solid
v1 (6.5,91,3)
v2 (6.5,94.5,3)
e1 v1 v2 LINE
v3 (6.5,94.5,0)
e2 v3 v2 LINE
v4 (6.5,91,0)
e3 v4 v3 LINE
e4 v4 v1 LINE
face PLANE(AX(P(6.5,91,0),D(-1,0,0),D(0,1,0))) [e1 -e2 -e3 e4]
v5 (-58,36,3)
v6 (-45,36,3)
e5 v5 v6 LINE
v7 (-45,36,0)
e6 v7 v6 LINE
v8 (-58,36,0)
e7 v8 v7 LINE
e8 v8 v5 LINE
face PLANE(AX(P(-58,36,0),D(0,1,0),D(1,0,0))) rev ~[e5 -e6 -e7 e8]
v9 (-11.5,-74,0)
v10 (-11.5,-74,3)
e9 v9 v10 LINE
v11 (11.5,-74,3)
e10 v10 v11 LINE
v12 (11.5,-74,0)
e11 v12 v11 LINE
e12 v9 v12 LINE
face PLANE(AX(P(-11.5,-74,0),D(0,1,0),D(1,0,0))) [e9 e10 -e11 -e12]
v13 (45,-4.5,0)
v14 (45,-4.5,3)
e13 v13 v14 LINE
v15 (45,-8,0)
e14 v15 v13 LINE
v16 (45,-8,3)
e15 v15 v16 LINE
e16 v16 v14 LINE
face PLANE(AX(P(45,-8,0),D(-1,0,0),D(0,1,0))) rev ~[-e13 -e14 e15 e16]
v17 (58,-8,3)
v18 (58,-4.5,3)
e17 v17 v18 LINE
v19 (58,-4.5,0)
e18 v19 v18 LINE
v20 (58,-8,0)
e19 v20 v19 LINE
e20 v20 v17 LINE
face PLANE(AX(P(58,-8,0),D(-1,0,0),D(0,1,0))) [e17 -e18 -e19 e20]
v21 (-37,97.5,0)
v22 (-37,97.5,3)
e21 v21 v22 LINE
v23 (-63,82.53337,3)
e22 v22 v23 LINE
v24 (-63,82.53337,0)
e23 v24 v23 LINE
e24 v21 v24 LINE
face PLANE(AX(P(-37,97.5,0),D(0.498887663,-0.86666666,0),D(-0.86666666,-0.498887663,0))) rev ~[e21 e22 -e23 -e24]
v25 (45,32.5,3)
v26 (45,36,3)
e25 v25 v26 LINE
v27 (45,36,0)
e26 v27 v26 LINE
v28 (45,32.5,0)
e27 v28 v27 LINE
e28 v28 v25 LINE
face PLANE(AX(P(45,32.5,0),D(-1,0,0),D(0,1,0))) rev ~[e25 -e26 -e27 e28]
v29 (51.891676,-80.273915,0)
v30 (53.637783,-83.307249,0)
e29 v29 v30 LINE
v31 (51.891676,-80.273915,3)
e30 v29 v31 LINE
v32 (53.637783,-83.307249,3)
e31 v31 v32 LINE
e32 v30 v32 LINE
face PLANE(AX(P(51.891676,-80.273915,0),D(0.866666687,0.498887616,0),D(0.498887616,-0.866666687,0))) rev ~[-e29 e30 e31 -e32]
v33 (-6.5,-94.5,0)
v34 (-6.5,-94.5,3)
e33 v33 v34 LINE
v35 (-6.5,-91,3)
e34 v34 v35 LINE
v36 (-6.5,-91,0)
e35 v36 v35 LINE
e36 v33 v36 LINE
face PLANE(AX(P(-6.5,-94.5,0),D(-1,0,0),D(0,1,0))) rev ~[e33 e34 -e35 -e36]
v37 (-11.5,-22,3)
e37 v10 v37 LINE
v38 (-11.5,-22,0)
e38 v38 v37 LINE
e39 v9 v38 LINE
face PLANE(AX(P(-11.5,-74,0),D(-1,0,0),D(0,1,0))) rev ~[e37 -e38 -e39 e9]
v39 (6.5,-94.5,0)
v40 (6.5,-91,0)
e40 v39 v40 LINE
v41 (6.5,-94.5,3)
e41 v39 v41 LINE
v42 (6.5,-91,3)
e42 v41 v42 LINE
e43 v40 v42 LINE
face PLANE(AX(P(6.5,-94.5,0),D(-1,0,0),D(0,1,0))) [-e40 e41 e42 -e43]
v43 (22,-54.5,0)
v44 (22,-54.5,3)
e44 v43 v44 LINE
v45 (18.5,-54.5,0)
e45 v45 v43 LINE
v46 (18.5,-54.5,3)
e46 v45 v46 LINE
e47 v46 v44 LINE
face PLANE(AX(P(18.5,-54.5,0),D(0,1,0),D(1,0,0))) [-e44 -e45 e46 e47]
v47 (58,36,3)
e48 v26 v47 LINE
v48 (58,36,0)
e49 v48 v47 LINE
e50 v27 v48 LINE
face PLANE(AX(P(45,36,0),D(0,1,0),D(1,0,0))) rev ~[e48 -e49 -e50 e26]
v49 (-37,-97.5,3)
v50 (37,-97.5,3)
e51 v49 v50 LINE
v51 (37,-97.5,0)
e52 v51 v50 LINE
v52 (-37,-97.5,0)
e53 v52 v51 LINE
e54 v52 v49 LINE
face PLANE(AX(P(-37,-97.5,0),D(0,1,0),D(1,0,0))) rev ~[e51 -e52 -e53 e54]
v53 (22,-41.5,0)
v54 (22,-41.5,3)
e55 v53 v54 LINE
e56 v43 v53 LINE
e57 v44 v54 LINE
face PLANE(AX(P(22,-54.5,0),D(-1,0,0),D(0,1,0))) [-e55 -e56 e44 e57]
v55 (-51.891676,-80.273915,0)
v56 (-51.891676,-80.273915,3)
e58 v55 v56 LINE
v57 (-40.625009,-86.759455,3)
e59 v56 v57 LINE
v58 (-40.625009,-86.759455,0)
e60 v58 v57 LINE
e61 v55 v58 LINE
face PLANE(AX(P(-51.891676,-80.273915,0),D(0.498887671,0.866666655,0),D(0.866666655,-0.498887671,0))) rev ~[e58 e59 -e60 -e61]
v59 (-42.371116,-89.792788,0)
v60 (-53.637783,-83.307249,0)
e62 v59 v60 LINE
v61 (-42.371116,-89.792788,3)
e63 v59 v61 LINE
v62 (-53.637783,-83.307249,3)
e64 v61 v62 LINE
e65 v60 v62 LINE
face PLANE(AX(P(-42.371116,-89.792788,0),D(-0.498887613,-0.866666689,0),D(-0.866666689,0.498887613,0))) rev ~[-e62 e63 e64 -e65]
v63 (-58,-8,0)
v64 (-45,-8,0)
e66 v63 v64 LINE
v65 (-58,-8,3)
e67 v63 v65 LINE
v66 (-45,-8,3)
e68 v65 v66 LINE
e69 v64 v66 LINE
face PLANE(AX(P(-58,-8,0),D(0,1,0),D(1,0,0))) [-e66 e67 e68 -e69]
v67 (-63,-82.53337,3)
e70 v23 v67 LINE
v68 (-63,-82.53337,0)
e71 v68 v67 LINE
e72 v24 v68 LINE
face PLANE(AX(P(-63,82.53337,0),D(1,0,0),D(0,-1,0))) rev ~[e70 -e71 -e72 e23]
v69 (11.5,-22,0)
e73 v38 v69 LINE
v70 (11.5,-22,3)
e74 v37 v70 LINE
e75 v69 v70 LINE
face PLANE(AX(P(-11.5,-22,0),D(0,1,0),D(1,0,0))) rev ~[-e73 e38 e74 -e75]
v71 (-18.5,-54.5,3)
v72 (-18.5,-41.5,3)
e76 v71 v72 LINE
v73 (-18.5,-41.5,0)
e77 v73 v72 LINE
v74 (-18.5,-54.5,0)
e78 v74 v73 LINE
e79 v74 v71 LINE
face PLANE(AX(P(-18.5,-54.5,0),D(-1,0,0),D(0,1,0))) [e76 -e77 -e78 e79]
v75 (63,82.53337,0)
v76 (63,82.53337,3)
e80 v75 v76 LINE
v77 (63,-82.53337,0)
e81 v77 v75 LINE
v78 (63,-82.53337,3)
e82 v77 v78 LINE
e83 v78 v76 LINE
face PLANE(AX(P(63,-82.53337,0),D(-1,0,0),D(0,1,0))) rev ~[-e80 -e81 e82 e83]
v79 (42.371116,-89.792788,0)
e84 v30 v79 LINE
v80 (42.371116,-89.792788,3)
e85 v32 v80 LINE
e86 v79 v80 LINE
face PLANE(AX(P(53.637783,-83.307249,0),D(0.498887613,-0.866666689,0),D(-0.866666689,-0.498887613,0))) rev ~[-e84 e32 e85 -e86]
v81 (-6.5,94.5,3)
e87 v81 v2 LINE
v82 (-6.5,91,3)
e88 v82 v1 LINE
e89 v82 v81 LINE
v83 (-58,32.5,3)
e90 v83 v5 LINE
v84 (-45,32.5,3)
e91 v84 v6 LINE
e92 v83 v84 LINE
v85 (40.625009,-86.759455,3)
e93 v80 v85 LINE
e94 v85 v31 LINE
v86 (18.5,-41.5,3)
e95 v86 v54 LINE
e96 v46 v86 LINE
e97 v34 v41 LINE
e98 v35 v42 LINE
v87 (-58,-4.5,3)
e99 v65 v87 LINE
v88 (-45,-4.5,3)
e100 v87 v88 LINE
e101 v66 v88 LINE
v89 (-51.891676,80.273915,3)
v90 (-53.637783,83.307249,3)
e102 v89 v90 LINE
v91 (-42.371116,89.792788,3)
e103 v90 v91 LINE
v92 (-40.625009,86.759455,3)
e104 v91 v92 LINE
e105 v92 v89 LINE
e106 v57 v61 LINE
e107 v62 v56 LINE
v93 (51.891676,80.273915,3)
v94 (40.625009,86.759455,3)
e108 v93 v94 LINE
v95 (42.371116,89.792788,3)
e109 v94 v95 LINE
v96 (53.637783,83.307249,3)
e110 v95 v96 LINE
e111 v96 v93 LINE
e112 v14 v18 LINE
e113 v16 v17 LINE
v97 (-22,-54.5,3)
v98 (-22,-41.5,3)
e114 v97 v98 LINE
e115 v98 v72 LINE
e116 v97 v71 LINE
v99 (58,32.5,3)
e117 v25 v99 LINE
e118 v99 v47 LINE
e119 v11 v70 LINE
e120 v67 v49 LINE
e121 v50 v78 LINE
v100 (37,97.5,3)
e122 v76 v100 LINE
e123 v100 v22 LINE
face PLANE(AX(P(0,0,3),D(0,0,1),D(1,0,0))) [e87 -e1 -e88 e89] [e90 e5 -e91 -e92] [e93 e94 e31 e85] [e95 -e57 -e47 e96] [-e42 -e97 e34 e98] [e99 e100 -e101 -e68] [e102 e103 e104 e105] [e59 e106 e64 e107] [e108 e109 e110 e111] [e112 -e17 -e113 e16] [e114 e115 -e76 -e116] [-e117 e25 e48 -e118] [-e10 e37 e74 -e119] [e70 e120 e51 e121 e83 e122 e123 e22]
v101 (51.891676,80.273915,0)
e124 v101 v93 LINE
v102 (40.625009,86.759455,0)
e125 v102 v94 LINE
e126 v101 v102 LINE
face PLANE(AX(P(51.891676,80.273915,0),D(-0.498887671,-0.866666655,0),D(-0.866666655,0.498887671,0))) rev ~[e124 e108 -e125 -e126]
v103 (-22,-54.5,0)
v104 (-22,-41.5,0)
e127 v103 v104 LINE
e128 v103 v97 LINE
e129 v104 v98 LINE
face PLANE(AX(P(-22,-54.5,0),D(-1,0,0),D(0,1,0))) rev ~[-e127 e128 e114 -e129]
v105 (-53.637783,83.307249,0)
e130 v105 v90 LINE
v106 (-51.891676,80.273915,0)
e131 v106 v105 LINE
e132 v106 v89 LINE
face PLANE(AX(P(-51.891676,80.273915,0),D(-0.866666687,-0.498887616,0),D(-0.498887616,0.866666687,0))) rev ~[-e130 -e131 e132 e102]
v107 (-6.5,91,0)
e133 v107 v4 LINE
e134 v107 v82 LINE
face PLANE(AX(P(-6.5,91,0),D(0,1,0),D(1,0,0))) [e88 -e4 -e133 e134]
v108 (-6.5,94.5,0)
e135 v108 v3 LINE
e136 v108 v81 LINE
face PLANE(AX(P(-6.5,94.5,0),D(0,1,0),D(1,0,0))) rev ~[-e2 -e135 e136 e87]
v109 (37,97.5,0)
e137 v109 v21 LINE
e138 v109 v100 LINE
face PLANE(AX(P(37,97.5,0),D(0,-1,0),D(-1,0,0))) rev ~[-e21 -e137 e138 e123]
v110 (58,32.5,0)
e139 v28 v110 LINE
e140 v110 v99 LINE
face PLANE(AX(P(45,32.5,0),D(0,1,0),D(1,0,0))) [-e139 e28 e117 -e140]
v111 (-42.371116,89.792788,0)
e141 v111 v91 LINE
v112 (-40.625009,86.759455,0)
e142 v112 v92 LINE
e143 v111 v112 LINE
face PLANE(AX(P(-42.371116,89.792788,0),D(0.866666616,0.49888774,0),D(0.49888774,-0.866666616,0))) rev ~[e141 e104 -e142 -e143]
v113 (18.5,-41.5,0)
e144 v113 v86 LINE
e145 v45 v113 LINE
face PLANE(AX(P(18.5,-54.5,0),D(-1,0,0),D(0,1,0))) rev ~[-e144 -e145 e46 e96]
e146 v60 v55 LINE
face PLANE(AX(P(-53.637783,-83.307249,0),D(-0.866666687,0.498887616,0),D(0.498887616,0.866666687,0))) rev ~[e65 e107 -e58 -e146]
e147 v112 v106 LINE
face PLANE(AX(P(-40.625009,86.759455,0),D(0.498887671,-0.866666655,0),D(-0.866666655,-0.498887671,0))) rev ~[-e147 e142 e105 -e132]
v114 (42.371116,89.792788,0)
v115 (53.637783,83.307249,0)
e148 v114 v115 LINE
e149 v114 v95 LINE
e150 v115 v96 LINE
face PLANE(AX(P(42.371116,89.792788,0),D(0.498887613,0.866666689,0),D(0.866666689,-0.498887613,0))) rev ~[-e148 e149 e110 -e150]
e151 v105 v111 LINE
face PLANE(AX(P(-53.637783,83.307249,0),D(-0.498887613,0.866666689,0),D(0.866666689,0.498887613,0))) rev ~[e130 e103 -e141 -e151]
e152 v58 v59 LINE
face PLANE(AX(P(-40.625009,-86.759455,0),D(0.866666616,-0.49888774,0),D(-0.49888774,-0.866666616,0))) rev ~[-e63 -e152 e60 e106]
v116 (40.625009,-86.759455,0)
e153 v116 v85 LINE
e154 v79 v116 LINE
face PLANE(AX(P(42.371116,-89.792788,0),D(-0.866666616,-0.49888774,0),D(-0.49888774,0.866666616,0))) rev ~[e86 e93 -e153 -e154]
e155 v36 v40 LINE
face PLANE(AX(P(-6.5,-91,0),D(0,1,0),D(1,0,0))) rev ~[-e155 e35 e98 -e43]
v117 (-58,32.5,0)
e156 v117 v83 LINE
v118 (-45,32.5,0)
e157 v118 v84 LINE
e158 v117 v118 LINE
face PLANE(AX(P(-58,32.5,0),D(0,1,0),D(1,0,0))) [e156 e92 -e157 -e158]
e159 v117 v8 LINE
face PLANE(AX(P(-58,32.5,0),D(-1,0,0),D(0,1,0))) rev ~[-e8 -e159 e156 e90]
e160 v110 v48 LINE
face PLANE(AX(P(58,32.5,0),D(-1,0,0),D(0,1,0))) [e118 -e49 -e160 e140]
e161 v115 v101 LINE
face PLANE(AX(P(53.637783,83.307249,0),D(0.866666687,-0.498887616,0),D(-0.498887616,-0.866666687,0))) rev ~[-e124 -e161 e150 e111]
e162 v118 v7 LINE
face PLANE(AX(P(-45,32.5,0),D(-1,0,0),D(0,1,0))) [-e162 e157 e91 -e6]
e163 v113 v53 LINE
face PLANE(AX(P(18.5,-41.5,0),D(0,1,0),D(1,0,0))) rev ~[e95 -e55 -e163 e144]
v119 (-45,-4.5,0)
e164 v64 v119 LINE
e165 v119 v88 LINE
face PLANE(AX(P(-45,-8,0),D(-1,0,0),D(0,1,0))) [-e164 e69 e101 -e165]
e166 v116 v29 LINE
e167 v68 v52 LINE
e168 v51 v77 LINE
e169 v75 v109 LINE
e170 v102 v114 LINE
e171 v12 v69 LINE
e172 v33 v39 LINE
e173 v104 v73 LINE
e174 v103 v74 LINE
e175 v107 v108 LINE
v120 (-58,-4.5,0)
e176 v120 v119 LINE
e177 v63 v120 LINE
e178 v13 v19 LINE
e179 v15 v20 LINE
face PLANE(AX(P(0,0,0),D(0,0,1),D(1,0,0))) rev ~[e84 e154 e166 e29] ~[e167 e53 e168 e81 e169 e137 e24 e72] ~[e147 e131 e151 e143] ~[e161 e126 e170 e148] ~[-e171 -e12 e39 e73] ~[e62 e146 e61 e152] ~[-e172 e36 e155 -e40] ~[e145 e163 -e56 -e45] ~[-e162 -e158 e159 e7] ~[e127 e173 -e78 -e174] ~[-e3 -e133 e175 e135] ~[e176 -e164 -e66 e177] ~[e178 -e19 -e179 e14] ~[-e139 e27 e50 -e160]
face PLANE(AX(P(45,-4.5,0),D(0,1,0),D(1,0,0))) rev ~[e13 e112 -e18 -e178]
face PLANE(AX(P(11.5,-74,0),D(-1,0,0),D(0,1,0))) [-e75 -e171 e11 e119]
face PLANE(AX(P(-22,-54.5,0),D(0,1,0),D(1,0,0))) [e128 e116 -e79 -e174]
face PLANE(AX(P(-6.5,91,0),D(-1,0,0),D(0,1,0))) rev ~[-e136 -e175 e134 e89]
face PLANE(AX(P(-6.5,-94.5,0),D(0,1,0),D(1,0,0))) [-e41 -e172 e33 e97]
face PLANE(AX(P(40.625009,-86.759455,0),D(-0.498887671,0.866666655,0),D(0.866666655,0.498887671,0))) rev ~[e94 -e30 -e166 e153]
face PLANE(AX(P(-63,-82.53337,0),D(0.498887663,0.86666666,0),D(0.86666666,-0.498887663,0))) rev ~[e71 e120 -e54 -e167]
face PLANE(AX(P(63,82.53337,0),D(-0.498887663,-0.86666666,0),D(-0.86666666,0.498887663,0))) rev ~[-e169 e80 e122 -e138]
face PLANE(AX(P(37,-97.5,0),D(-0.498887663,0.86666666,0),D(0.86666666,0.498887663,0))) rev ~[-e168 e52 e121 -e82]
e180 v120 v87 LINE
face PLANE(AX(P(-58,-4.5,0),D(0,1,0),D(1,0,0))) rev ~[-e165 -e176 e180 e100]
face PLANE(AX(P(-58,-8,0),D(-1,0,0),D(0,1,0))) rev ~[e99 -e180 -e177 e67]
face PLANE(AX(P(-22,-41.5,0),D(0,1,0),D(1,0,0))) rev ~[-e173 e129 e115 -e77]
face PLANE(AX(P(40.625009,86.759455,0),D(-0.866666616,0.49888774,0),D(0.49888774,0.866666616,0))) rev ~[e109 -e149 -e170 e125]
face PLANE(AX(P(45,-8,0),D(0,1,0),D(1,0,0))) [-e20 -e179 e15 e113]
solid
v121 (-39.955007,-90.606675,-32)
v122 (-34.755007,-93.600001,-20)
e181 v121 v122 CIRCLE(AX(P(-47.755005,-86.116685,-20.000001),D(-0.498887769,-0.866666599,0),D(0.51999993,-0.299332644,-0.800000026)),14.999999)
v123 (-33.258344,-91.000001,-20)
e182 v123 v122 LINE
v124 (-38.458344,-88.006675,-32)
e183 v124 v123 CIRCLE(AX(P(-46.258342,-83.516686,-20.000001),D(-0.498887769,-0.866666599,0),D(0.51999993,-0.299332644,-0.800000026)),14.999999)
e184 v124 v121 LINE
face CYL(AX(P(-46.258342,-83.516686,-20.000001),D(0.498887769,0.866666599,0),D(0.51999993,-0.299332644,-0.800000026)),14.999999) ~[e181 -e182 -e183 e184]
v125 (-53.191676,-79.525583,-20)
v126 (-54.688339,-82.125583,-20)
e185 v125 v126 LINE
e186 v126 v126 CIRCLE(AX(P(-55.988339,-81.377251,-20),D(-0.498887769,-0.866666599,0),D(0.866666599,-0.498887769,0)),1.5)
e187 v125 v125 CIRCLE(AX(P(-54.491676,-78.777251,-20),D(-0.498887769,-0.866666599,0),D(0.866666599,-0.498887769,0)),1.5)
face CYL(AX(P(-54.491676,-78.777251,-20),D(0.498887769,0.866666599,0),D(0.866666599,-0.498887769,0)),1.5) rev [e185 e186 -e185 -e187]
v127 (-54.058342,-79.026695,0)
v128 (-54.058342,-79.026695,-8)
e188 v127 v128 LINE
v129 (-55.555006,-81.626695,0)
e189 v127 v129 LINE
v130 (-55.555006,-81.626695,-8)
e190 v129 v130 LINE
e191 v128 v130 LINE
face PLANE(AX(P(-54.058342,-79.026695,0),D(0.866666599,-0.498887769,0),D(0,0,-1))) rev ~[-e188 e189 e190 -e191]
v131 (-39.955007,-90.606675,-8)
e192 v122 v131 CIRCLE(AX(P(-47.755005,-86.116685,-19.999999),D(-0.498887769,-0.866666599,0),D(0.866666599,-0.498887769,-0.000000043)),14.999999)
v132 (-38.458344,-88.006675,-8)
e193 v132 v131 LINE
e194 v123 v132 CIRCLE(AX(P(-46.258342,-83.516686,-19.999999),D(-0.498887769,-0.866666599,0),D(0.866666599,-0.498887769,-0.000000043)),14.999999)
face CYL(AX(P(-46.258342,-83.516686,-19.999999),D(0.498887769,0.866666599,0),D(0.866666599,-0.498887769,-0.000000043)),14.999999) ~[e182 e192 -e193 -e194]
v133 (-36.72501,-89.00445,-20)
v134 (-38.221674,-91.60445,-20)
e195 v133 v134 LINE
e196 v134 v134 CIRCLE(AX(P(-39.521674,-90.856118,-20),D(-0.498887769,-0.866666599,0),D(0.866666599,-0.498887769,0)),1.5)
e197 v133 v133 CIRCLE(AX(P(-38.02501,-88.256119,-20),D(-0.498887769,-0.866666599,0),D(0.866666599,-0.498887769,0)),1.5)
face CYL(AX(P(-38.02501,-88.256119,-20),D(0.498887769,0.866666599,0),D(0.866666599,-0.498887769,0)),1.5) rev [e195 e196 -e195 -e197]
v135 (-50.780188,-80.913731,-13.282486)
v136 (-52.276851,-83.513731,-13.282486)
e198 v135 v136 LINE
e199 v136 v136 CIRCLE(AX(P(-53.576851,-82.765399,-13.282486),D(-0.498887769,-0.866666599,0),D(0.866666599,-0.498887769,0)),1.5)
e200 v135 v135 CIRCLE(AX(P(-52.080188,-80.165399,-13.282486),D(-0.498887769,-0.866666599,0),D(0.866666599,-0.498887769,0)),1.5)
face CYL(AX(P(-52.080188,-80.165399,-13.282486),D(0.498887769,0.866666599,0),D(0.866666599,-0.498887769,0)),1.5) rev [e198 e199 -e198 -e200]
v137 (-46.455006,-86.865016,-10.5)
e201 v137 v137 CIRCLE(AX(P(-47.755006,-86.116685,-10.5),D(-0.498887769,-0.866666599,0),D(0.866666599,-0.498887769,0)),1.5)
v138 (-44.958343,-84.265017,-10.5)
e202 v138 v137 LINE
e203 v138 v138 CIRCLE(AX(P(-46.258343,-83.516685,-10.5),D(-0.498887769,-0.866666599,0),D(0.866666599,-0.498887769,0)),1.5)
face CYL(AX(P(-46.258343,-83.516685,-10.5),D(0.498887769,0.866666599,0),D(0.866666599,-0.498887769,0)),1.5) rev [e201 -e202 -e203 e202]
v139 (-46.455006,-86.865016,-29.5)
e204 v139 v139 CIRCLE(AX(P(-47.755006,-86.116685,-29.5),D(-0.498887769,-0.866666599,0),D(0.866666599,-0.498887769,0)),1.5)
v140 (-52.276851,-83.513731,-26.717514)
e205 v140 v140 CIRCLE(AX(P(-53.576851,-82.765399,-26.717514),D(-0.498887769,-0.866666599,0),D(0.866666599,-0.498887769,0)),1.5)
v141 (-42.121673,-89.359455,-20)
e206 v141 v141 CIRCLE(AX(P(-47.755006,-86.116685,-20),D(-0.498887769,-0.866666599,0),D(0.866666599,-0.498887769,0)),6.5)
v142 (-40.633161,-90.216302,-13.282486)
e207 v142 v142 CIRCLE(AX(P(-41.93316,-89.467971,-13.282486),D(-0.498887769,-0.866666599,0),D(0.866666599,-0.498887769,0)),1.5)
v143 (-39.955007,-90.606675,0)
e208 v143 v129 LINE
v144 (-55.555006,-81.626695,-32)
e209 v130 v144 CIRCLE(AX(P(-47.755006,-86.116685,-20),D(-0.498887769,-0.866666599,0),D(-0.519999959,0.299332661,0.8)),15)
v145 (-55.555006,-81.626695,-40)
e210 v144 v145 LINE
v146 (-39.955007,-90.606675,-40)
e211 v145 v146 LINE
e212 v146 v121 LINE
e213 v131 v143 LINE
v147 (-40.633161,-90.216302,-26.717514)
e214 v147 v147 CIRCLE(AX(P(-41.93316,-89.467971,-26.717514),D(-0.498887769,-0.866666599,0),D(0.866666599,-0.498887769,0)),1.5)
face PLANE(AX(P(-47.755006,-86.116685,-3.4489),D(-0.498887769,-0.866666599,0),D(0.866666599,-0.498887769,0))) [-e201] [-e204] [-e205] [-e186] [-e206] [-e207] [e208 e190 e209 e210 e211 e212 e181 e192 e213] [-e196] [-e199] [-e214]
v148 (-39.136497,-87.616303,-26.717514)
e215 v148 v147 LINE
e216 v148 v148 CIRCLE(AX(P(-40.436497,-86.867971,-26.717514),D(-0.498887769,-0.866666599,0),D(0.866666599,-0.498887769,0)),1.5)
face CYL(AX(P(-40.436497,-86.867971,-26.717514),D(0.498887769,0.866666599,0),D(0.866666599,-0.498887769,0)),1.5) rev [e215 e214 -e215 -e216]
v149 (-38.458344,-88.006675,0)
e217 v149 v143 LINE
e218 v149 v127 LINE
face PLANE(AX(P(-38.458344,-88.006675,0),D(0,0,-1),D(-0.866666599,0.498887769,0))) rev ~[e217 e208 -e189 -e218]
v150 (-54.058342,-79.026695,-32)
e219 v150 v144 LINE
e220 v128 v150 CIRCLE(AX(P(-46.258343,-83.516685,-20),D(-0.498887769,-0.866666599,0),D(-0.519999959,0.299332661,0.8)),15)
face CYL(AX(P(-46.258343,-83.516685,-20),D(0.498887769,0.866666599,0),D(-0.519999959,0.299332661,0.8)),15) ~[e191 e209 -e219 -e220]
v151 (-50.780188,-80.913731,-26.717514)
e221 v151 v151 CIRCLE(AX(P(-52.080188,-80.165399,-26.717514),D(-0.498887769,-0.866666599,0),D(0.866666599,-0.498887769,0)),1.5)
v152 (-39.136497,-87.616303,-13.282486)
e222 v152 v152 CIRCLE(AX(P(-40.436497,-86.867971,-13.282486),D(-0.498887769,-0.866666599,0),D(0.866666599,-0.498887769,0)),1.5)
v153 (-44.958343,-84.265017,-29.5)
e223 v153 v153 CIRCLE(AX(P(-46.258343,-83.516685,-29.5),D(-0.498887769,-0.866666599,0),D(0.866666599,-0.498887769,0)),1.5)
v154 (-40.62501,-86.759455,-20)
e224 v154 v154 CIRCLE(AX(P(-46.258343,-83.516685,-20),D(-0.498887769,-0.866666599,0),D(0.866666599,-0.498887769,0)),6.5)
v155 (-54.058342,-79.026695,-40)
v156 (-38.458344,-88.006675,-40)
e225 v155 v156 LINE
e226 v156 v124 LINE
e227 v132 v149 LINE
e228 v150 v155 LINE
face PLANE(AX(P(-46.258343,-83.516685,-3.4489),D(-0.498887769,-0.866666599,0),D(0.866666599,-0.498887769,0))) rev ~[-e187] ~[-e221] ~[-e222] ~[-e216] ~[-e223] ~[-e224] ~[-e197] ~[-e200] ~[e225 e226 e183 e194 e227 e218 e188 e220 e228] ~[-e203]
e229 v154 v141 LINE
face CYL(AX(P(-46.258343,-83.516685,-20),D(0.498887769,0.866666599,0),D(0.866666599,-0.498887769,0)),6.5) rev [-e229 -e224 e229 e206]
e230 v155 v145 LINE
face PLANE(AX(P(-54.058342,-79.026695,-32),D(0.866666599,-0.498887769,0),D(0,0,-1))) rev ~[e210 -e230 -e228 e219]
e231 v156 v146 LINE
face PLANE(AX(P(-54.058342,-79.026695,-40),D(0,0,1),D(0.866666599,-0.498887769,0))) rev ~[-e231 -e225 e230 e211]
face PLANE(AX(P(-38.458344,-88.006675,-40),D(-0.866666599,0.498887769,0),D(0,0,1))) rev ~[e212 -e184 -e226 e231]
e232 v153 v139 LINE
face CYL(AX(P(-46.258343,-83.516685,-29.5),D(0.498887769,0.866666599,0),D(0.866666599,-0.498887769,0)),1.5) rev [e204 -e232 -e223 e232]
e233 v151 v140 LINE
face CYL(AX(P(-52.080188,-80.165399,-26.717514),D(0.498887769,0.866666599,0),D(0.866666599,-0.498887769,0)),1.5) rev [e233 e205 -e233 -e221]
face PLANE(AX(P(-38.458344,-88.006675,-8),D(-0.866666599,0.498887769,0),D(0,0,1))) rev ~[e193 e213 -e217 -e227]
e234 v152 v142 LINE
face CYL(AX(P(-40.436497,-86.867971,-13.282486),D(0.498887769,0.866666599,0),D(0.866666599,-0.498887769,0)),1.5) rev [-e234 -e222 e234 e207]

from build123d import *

# Parameters (mm, degrees)
F0_W     = 13
F0_H     = 3.5
F0_W_2   = 3.5
F0_H_2   = 13
F0_W_3   = 23
F0_H_3   = 52
F1_DEPTH = 3
F2_R     = 1.5
F2_R_2   = 6.5
F3_DEPTH = 3


with BuildPart() as f1:
    # F0 (on Top) → F1 (new body)
    with BuildSketch(Plane.XY):
        Polygon((37, 97.5), (-37, 97.5), (-63, 82.53337), (-63, -82.53337), (-37, -97.5), (37, -97.5), (63, -82.53337), (63, 82.53337), align=None)
        Polygon((-40.625009, -86.759455), (-42.371116, -89.792788), (-53.637783, -83.307249), (-51.891676, -80.273915), align=None, mode=Mode.SUBTRACT)
        with Locations((-51.5, -6.25)):
            Rectangle(F0_W, F0_H, mode=Mode.SUBTRACT)
        with Locations((-20.25, -48)):
            Rectangle(F0_W_2, F0_H_2, mode=Mode.SUBTRACT)
        with Locations((0, -92.75)):
            Rectangle(F0_W, F0_H, mode=Mode.SUBTRACT)
        Polygon((53.637783, -83.307249), (42.371116, -89.792788), (40.625009, -86.759455), (51.891676, -80.273915), align=None, mode=Mode.SUBTRACT)
        with Locations((0, -48)):
            Rectangle(F0_W_3, F0_H_3, mode=Mode.SUBTRACT)
        with Locations((20.25, -48)):
            Rectangle(F0_W_2, F0_H_2, mode=Mode.SUBTRACT)
        with Locations((51.5, -6.25)):
            Rectangle(F0_W, F0_H, mode=Mode.SUBTRACT)
        with Locations((-51.5, 34.25)):
            Rectangle(F0_W, F0_H, mode=Mode.SUBTRACT)
        Polygon((-53.637783, 83.307249), (-42.371116, 89.792788), (-40.625009, 86.759455), (-51.891676, 80.273915), align=None, mode=Mode.SUBTRACT)
        with Locations((51.5, 34.25)):
            Rectangle(F0_W, F0_H, mode=Mode.SUBTRACT)
        with Locations((0, 92.75)):
            Rectangle(F0_W, F0_H, mode=Mode.SUBTRACT)
        Polygon((40.625009, 86.759455), (42.371116, 89.792788), (53.637783, 83.307249), (51.891676, 80.273915), align=None, mode=Mode.SUBTRACT)
    extrude(amount=F1_DEPTH)


with BuildPart() as f3:
    # F2 (on face) → F3 (new body)
    with BuildSketch(Plane(origin=(-47.623238, -82.730997, 0), x_dir=(0.866667, -0.498888, 0), z_dir=(-0.498888, -0.866667, 0))):
        with BuildLine():
            ThreePointArc((-7.425121, -8), (1.574879, -5), (10.574879, -8))
            Line((10.574879, -8), (10.574879, 0))
            Line((10.574879, 0), (8.074879, 0))
            Line((8.074879, 0), (-4.925121, 0))
            Line((-4.925121, 0), (-7.425121, 0))
            Line((-7.425121, 0), (-7.425121, -8))
        make_face()
        with BuildLine():
            Line((-7.425121, -8), (10.574879, -8))
            ThreePointArc((10.574879, -8), (1.574879, -5), (-7.425121, -8))
        make_face()
        with BuildLine():
            ThreePointArc((10.574879, -32), (14.991287, -26.708204), (16.574879, -20))
            ThreePointArc((16.574879, -20), (14.991287, -13.291796), (10.574879, -8))
            Line((10.574879, -8), (-7.425121, -8))
            ThreePointArc((-7.425121, -8), (-13.425121, -20), (-7.425121, -32))
            Line((-7.425121, -32), (10.574879, -32))
        make_face()
        with Locations((1.574879, -29.5)):
            Circle(F2_R, mode=Mode.SUBTRACT)
        with Locations((-7.925121, -20)):
            Circle(F2_R, mode=Mode.SUBTRACT)
        with Locations((-5.142635, -26.717514)):
            Circle(F2_R, mode=Mode.SUBTRACT)
        with Locations((8.292394, -26.717514)):
            Circle(F2_R, mode=Mode.SUBTRACT)
        with Locations((1.574879, -20)):
            Circle(F2_R_2, mode=Mode.SUBTRACT)
        with Locations((11.074879, -20)):
            Circle(F2_R, mode=Mode.SUBTRACT)
        with Locations((-5.142635, -13.282486)):
            Circle(F2_R, mode=Mode.SUBTRACT)
        with Locations((8.292394, -13.282486)):
            Circle(F2_R, mode=Mode.SUBTRACT)
        with Locations((1.574879, -10.5)):
            Circle(F2_R, mode=Mode.SUBTRACT)
        with BuildLine():
            ThreePointArc((-7.425121, -32), (1.574879, -35), (10.574879, -32))
            Line((10.574879, -32), (-7.425121, -32))
        make_face()
        with BuildLine():
            Line((10.574879, -40), (10.574879, -32))
            ThreePointArc((10.574879, -32), (1.574879, -35), (-7.425121, -32))
            Line((-7.425121, -32), (-7.425121, -40))
            Line((-7.425121, -40), (10.574879, -40))
        make_face()
    extrude(amount=F3_DEPTH)


solid = Compound([f1.part, f3.part])
